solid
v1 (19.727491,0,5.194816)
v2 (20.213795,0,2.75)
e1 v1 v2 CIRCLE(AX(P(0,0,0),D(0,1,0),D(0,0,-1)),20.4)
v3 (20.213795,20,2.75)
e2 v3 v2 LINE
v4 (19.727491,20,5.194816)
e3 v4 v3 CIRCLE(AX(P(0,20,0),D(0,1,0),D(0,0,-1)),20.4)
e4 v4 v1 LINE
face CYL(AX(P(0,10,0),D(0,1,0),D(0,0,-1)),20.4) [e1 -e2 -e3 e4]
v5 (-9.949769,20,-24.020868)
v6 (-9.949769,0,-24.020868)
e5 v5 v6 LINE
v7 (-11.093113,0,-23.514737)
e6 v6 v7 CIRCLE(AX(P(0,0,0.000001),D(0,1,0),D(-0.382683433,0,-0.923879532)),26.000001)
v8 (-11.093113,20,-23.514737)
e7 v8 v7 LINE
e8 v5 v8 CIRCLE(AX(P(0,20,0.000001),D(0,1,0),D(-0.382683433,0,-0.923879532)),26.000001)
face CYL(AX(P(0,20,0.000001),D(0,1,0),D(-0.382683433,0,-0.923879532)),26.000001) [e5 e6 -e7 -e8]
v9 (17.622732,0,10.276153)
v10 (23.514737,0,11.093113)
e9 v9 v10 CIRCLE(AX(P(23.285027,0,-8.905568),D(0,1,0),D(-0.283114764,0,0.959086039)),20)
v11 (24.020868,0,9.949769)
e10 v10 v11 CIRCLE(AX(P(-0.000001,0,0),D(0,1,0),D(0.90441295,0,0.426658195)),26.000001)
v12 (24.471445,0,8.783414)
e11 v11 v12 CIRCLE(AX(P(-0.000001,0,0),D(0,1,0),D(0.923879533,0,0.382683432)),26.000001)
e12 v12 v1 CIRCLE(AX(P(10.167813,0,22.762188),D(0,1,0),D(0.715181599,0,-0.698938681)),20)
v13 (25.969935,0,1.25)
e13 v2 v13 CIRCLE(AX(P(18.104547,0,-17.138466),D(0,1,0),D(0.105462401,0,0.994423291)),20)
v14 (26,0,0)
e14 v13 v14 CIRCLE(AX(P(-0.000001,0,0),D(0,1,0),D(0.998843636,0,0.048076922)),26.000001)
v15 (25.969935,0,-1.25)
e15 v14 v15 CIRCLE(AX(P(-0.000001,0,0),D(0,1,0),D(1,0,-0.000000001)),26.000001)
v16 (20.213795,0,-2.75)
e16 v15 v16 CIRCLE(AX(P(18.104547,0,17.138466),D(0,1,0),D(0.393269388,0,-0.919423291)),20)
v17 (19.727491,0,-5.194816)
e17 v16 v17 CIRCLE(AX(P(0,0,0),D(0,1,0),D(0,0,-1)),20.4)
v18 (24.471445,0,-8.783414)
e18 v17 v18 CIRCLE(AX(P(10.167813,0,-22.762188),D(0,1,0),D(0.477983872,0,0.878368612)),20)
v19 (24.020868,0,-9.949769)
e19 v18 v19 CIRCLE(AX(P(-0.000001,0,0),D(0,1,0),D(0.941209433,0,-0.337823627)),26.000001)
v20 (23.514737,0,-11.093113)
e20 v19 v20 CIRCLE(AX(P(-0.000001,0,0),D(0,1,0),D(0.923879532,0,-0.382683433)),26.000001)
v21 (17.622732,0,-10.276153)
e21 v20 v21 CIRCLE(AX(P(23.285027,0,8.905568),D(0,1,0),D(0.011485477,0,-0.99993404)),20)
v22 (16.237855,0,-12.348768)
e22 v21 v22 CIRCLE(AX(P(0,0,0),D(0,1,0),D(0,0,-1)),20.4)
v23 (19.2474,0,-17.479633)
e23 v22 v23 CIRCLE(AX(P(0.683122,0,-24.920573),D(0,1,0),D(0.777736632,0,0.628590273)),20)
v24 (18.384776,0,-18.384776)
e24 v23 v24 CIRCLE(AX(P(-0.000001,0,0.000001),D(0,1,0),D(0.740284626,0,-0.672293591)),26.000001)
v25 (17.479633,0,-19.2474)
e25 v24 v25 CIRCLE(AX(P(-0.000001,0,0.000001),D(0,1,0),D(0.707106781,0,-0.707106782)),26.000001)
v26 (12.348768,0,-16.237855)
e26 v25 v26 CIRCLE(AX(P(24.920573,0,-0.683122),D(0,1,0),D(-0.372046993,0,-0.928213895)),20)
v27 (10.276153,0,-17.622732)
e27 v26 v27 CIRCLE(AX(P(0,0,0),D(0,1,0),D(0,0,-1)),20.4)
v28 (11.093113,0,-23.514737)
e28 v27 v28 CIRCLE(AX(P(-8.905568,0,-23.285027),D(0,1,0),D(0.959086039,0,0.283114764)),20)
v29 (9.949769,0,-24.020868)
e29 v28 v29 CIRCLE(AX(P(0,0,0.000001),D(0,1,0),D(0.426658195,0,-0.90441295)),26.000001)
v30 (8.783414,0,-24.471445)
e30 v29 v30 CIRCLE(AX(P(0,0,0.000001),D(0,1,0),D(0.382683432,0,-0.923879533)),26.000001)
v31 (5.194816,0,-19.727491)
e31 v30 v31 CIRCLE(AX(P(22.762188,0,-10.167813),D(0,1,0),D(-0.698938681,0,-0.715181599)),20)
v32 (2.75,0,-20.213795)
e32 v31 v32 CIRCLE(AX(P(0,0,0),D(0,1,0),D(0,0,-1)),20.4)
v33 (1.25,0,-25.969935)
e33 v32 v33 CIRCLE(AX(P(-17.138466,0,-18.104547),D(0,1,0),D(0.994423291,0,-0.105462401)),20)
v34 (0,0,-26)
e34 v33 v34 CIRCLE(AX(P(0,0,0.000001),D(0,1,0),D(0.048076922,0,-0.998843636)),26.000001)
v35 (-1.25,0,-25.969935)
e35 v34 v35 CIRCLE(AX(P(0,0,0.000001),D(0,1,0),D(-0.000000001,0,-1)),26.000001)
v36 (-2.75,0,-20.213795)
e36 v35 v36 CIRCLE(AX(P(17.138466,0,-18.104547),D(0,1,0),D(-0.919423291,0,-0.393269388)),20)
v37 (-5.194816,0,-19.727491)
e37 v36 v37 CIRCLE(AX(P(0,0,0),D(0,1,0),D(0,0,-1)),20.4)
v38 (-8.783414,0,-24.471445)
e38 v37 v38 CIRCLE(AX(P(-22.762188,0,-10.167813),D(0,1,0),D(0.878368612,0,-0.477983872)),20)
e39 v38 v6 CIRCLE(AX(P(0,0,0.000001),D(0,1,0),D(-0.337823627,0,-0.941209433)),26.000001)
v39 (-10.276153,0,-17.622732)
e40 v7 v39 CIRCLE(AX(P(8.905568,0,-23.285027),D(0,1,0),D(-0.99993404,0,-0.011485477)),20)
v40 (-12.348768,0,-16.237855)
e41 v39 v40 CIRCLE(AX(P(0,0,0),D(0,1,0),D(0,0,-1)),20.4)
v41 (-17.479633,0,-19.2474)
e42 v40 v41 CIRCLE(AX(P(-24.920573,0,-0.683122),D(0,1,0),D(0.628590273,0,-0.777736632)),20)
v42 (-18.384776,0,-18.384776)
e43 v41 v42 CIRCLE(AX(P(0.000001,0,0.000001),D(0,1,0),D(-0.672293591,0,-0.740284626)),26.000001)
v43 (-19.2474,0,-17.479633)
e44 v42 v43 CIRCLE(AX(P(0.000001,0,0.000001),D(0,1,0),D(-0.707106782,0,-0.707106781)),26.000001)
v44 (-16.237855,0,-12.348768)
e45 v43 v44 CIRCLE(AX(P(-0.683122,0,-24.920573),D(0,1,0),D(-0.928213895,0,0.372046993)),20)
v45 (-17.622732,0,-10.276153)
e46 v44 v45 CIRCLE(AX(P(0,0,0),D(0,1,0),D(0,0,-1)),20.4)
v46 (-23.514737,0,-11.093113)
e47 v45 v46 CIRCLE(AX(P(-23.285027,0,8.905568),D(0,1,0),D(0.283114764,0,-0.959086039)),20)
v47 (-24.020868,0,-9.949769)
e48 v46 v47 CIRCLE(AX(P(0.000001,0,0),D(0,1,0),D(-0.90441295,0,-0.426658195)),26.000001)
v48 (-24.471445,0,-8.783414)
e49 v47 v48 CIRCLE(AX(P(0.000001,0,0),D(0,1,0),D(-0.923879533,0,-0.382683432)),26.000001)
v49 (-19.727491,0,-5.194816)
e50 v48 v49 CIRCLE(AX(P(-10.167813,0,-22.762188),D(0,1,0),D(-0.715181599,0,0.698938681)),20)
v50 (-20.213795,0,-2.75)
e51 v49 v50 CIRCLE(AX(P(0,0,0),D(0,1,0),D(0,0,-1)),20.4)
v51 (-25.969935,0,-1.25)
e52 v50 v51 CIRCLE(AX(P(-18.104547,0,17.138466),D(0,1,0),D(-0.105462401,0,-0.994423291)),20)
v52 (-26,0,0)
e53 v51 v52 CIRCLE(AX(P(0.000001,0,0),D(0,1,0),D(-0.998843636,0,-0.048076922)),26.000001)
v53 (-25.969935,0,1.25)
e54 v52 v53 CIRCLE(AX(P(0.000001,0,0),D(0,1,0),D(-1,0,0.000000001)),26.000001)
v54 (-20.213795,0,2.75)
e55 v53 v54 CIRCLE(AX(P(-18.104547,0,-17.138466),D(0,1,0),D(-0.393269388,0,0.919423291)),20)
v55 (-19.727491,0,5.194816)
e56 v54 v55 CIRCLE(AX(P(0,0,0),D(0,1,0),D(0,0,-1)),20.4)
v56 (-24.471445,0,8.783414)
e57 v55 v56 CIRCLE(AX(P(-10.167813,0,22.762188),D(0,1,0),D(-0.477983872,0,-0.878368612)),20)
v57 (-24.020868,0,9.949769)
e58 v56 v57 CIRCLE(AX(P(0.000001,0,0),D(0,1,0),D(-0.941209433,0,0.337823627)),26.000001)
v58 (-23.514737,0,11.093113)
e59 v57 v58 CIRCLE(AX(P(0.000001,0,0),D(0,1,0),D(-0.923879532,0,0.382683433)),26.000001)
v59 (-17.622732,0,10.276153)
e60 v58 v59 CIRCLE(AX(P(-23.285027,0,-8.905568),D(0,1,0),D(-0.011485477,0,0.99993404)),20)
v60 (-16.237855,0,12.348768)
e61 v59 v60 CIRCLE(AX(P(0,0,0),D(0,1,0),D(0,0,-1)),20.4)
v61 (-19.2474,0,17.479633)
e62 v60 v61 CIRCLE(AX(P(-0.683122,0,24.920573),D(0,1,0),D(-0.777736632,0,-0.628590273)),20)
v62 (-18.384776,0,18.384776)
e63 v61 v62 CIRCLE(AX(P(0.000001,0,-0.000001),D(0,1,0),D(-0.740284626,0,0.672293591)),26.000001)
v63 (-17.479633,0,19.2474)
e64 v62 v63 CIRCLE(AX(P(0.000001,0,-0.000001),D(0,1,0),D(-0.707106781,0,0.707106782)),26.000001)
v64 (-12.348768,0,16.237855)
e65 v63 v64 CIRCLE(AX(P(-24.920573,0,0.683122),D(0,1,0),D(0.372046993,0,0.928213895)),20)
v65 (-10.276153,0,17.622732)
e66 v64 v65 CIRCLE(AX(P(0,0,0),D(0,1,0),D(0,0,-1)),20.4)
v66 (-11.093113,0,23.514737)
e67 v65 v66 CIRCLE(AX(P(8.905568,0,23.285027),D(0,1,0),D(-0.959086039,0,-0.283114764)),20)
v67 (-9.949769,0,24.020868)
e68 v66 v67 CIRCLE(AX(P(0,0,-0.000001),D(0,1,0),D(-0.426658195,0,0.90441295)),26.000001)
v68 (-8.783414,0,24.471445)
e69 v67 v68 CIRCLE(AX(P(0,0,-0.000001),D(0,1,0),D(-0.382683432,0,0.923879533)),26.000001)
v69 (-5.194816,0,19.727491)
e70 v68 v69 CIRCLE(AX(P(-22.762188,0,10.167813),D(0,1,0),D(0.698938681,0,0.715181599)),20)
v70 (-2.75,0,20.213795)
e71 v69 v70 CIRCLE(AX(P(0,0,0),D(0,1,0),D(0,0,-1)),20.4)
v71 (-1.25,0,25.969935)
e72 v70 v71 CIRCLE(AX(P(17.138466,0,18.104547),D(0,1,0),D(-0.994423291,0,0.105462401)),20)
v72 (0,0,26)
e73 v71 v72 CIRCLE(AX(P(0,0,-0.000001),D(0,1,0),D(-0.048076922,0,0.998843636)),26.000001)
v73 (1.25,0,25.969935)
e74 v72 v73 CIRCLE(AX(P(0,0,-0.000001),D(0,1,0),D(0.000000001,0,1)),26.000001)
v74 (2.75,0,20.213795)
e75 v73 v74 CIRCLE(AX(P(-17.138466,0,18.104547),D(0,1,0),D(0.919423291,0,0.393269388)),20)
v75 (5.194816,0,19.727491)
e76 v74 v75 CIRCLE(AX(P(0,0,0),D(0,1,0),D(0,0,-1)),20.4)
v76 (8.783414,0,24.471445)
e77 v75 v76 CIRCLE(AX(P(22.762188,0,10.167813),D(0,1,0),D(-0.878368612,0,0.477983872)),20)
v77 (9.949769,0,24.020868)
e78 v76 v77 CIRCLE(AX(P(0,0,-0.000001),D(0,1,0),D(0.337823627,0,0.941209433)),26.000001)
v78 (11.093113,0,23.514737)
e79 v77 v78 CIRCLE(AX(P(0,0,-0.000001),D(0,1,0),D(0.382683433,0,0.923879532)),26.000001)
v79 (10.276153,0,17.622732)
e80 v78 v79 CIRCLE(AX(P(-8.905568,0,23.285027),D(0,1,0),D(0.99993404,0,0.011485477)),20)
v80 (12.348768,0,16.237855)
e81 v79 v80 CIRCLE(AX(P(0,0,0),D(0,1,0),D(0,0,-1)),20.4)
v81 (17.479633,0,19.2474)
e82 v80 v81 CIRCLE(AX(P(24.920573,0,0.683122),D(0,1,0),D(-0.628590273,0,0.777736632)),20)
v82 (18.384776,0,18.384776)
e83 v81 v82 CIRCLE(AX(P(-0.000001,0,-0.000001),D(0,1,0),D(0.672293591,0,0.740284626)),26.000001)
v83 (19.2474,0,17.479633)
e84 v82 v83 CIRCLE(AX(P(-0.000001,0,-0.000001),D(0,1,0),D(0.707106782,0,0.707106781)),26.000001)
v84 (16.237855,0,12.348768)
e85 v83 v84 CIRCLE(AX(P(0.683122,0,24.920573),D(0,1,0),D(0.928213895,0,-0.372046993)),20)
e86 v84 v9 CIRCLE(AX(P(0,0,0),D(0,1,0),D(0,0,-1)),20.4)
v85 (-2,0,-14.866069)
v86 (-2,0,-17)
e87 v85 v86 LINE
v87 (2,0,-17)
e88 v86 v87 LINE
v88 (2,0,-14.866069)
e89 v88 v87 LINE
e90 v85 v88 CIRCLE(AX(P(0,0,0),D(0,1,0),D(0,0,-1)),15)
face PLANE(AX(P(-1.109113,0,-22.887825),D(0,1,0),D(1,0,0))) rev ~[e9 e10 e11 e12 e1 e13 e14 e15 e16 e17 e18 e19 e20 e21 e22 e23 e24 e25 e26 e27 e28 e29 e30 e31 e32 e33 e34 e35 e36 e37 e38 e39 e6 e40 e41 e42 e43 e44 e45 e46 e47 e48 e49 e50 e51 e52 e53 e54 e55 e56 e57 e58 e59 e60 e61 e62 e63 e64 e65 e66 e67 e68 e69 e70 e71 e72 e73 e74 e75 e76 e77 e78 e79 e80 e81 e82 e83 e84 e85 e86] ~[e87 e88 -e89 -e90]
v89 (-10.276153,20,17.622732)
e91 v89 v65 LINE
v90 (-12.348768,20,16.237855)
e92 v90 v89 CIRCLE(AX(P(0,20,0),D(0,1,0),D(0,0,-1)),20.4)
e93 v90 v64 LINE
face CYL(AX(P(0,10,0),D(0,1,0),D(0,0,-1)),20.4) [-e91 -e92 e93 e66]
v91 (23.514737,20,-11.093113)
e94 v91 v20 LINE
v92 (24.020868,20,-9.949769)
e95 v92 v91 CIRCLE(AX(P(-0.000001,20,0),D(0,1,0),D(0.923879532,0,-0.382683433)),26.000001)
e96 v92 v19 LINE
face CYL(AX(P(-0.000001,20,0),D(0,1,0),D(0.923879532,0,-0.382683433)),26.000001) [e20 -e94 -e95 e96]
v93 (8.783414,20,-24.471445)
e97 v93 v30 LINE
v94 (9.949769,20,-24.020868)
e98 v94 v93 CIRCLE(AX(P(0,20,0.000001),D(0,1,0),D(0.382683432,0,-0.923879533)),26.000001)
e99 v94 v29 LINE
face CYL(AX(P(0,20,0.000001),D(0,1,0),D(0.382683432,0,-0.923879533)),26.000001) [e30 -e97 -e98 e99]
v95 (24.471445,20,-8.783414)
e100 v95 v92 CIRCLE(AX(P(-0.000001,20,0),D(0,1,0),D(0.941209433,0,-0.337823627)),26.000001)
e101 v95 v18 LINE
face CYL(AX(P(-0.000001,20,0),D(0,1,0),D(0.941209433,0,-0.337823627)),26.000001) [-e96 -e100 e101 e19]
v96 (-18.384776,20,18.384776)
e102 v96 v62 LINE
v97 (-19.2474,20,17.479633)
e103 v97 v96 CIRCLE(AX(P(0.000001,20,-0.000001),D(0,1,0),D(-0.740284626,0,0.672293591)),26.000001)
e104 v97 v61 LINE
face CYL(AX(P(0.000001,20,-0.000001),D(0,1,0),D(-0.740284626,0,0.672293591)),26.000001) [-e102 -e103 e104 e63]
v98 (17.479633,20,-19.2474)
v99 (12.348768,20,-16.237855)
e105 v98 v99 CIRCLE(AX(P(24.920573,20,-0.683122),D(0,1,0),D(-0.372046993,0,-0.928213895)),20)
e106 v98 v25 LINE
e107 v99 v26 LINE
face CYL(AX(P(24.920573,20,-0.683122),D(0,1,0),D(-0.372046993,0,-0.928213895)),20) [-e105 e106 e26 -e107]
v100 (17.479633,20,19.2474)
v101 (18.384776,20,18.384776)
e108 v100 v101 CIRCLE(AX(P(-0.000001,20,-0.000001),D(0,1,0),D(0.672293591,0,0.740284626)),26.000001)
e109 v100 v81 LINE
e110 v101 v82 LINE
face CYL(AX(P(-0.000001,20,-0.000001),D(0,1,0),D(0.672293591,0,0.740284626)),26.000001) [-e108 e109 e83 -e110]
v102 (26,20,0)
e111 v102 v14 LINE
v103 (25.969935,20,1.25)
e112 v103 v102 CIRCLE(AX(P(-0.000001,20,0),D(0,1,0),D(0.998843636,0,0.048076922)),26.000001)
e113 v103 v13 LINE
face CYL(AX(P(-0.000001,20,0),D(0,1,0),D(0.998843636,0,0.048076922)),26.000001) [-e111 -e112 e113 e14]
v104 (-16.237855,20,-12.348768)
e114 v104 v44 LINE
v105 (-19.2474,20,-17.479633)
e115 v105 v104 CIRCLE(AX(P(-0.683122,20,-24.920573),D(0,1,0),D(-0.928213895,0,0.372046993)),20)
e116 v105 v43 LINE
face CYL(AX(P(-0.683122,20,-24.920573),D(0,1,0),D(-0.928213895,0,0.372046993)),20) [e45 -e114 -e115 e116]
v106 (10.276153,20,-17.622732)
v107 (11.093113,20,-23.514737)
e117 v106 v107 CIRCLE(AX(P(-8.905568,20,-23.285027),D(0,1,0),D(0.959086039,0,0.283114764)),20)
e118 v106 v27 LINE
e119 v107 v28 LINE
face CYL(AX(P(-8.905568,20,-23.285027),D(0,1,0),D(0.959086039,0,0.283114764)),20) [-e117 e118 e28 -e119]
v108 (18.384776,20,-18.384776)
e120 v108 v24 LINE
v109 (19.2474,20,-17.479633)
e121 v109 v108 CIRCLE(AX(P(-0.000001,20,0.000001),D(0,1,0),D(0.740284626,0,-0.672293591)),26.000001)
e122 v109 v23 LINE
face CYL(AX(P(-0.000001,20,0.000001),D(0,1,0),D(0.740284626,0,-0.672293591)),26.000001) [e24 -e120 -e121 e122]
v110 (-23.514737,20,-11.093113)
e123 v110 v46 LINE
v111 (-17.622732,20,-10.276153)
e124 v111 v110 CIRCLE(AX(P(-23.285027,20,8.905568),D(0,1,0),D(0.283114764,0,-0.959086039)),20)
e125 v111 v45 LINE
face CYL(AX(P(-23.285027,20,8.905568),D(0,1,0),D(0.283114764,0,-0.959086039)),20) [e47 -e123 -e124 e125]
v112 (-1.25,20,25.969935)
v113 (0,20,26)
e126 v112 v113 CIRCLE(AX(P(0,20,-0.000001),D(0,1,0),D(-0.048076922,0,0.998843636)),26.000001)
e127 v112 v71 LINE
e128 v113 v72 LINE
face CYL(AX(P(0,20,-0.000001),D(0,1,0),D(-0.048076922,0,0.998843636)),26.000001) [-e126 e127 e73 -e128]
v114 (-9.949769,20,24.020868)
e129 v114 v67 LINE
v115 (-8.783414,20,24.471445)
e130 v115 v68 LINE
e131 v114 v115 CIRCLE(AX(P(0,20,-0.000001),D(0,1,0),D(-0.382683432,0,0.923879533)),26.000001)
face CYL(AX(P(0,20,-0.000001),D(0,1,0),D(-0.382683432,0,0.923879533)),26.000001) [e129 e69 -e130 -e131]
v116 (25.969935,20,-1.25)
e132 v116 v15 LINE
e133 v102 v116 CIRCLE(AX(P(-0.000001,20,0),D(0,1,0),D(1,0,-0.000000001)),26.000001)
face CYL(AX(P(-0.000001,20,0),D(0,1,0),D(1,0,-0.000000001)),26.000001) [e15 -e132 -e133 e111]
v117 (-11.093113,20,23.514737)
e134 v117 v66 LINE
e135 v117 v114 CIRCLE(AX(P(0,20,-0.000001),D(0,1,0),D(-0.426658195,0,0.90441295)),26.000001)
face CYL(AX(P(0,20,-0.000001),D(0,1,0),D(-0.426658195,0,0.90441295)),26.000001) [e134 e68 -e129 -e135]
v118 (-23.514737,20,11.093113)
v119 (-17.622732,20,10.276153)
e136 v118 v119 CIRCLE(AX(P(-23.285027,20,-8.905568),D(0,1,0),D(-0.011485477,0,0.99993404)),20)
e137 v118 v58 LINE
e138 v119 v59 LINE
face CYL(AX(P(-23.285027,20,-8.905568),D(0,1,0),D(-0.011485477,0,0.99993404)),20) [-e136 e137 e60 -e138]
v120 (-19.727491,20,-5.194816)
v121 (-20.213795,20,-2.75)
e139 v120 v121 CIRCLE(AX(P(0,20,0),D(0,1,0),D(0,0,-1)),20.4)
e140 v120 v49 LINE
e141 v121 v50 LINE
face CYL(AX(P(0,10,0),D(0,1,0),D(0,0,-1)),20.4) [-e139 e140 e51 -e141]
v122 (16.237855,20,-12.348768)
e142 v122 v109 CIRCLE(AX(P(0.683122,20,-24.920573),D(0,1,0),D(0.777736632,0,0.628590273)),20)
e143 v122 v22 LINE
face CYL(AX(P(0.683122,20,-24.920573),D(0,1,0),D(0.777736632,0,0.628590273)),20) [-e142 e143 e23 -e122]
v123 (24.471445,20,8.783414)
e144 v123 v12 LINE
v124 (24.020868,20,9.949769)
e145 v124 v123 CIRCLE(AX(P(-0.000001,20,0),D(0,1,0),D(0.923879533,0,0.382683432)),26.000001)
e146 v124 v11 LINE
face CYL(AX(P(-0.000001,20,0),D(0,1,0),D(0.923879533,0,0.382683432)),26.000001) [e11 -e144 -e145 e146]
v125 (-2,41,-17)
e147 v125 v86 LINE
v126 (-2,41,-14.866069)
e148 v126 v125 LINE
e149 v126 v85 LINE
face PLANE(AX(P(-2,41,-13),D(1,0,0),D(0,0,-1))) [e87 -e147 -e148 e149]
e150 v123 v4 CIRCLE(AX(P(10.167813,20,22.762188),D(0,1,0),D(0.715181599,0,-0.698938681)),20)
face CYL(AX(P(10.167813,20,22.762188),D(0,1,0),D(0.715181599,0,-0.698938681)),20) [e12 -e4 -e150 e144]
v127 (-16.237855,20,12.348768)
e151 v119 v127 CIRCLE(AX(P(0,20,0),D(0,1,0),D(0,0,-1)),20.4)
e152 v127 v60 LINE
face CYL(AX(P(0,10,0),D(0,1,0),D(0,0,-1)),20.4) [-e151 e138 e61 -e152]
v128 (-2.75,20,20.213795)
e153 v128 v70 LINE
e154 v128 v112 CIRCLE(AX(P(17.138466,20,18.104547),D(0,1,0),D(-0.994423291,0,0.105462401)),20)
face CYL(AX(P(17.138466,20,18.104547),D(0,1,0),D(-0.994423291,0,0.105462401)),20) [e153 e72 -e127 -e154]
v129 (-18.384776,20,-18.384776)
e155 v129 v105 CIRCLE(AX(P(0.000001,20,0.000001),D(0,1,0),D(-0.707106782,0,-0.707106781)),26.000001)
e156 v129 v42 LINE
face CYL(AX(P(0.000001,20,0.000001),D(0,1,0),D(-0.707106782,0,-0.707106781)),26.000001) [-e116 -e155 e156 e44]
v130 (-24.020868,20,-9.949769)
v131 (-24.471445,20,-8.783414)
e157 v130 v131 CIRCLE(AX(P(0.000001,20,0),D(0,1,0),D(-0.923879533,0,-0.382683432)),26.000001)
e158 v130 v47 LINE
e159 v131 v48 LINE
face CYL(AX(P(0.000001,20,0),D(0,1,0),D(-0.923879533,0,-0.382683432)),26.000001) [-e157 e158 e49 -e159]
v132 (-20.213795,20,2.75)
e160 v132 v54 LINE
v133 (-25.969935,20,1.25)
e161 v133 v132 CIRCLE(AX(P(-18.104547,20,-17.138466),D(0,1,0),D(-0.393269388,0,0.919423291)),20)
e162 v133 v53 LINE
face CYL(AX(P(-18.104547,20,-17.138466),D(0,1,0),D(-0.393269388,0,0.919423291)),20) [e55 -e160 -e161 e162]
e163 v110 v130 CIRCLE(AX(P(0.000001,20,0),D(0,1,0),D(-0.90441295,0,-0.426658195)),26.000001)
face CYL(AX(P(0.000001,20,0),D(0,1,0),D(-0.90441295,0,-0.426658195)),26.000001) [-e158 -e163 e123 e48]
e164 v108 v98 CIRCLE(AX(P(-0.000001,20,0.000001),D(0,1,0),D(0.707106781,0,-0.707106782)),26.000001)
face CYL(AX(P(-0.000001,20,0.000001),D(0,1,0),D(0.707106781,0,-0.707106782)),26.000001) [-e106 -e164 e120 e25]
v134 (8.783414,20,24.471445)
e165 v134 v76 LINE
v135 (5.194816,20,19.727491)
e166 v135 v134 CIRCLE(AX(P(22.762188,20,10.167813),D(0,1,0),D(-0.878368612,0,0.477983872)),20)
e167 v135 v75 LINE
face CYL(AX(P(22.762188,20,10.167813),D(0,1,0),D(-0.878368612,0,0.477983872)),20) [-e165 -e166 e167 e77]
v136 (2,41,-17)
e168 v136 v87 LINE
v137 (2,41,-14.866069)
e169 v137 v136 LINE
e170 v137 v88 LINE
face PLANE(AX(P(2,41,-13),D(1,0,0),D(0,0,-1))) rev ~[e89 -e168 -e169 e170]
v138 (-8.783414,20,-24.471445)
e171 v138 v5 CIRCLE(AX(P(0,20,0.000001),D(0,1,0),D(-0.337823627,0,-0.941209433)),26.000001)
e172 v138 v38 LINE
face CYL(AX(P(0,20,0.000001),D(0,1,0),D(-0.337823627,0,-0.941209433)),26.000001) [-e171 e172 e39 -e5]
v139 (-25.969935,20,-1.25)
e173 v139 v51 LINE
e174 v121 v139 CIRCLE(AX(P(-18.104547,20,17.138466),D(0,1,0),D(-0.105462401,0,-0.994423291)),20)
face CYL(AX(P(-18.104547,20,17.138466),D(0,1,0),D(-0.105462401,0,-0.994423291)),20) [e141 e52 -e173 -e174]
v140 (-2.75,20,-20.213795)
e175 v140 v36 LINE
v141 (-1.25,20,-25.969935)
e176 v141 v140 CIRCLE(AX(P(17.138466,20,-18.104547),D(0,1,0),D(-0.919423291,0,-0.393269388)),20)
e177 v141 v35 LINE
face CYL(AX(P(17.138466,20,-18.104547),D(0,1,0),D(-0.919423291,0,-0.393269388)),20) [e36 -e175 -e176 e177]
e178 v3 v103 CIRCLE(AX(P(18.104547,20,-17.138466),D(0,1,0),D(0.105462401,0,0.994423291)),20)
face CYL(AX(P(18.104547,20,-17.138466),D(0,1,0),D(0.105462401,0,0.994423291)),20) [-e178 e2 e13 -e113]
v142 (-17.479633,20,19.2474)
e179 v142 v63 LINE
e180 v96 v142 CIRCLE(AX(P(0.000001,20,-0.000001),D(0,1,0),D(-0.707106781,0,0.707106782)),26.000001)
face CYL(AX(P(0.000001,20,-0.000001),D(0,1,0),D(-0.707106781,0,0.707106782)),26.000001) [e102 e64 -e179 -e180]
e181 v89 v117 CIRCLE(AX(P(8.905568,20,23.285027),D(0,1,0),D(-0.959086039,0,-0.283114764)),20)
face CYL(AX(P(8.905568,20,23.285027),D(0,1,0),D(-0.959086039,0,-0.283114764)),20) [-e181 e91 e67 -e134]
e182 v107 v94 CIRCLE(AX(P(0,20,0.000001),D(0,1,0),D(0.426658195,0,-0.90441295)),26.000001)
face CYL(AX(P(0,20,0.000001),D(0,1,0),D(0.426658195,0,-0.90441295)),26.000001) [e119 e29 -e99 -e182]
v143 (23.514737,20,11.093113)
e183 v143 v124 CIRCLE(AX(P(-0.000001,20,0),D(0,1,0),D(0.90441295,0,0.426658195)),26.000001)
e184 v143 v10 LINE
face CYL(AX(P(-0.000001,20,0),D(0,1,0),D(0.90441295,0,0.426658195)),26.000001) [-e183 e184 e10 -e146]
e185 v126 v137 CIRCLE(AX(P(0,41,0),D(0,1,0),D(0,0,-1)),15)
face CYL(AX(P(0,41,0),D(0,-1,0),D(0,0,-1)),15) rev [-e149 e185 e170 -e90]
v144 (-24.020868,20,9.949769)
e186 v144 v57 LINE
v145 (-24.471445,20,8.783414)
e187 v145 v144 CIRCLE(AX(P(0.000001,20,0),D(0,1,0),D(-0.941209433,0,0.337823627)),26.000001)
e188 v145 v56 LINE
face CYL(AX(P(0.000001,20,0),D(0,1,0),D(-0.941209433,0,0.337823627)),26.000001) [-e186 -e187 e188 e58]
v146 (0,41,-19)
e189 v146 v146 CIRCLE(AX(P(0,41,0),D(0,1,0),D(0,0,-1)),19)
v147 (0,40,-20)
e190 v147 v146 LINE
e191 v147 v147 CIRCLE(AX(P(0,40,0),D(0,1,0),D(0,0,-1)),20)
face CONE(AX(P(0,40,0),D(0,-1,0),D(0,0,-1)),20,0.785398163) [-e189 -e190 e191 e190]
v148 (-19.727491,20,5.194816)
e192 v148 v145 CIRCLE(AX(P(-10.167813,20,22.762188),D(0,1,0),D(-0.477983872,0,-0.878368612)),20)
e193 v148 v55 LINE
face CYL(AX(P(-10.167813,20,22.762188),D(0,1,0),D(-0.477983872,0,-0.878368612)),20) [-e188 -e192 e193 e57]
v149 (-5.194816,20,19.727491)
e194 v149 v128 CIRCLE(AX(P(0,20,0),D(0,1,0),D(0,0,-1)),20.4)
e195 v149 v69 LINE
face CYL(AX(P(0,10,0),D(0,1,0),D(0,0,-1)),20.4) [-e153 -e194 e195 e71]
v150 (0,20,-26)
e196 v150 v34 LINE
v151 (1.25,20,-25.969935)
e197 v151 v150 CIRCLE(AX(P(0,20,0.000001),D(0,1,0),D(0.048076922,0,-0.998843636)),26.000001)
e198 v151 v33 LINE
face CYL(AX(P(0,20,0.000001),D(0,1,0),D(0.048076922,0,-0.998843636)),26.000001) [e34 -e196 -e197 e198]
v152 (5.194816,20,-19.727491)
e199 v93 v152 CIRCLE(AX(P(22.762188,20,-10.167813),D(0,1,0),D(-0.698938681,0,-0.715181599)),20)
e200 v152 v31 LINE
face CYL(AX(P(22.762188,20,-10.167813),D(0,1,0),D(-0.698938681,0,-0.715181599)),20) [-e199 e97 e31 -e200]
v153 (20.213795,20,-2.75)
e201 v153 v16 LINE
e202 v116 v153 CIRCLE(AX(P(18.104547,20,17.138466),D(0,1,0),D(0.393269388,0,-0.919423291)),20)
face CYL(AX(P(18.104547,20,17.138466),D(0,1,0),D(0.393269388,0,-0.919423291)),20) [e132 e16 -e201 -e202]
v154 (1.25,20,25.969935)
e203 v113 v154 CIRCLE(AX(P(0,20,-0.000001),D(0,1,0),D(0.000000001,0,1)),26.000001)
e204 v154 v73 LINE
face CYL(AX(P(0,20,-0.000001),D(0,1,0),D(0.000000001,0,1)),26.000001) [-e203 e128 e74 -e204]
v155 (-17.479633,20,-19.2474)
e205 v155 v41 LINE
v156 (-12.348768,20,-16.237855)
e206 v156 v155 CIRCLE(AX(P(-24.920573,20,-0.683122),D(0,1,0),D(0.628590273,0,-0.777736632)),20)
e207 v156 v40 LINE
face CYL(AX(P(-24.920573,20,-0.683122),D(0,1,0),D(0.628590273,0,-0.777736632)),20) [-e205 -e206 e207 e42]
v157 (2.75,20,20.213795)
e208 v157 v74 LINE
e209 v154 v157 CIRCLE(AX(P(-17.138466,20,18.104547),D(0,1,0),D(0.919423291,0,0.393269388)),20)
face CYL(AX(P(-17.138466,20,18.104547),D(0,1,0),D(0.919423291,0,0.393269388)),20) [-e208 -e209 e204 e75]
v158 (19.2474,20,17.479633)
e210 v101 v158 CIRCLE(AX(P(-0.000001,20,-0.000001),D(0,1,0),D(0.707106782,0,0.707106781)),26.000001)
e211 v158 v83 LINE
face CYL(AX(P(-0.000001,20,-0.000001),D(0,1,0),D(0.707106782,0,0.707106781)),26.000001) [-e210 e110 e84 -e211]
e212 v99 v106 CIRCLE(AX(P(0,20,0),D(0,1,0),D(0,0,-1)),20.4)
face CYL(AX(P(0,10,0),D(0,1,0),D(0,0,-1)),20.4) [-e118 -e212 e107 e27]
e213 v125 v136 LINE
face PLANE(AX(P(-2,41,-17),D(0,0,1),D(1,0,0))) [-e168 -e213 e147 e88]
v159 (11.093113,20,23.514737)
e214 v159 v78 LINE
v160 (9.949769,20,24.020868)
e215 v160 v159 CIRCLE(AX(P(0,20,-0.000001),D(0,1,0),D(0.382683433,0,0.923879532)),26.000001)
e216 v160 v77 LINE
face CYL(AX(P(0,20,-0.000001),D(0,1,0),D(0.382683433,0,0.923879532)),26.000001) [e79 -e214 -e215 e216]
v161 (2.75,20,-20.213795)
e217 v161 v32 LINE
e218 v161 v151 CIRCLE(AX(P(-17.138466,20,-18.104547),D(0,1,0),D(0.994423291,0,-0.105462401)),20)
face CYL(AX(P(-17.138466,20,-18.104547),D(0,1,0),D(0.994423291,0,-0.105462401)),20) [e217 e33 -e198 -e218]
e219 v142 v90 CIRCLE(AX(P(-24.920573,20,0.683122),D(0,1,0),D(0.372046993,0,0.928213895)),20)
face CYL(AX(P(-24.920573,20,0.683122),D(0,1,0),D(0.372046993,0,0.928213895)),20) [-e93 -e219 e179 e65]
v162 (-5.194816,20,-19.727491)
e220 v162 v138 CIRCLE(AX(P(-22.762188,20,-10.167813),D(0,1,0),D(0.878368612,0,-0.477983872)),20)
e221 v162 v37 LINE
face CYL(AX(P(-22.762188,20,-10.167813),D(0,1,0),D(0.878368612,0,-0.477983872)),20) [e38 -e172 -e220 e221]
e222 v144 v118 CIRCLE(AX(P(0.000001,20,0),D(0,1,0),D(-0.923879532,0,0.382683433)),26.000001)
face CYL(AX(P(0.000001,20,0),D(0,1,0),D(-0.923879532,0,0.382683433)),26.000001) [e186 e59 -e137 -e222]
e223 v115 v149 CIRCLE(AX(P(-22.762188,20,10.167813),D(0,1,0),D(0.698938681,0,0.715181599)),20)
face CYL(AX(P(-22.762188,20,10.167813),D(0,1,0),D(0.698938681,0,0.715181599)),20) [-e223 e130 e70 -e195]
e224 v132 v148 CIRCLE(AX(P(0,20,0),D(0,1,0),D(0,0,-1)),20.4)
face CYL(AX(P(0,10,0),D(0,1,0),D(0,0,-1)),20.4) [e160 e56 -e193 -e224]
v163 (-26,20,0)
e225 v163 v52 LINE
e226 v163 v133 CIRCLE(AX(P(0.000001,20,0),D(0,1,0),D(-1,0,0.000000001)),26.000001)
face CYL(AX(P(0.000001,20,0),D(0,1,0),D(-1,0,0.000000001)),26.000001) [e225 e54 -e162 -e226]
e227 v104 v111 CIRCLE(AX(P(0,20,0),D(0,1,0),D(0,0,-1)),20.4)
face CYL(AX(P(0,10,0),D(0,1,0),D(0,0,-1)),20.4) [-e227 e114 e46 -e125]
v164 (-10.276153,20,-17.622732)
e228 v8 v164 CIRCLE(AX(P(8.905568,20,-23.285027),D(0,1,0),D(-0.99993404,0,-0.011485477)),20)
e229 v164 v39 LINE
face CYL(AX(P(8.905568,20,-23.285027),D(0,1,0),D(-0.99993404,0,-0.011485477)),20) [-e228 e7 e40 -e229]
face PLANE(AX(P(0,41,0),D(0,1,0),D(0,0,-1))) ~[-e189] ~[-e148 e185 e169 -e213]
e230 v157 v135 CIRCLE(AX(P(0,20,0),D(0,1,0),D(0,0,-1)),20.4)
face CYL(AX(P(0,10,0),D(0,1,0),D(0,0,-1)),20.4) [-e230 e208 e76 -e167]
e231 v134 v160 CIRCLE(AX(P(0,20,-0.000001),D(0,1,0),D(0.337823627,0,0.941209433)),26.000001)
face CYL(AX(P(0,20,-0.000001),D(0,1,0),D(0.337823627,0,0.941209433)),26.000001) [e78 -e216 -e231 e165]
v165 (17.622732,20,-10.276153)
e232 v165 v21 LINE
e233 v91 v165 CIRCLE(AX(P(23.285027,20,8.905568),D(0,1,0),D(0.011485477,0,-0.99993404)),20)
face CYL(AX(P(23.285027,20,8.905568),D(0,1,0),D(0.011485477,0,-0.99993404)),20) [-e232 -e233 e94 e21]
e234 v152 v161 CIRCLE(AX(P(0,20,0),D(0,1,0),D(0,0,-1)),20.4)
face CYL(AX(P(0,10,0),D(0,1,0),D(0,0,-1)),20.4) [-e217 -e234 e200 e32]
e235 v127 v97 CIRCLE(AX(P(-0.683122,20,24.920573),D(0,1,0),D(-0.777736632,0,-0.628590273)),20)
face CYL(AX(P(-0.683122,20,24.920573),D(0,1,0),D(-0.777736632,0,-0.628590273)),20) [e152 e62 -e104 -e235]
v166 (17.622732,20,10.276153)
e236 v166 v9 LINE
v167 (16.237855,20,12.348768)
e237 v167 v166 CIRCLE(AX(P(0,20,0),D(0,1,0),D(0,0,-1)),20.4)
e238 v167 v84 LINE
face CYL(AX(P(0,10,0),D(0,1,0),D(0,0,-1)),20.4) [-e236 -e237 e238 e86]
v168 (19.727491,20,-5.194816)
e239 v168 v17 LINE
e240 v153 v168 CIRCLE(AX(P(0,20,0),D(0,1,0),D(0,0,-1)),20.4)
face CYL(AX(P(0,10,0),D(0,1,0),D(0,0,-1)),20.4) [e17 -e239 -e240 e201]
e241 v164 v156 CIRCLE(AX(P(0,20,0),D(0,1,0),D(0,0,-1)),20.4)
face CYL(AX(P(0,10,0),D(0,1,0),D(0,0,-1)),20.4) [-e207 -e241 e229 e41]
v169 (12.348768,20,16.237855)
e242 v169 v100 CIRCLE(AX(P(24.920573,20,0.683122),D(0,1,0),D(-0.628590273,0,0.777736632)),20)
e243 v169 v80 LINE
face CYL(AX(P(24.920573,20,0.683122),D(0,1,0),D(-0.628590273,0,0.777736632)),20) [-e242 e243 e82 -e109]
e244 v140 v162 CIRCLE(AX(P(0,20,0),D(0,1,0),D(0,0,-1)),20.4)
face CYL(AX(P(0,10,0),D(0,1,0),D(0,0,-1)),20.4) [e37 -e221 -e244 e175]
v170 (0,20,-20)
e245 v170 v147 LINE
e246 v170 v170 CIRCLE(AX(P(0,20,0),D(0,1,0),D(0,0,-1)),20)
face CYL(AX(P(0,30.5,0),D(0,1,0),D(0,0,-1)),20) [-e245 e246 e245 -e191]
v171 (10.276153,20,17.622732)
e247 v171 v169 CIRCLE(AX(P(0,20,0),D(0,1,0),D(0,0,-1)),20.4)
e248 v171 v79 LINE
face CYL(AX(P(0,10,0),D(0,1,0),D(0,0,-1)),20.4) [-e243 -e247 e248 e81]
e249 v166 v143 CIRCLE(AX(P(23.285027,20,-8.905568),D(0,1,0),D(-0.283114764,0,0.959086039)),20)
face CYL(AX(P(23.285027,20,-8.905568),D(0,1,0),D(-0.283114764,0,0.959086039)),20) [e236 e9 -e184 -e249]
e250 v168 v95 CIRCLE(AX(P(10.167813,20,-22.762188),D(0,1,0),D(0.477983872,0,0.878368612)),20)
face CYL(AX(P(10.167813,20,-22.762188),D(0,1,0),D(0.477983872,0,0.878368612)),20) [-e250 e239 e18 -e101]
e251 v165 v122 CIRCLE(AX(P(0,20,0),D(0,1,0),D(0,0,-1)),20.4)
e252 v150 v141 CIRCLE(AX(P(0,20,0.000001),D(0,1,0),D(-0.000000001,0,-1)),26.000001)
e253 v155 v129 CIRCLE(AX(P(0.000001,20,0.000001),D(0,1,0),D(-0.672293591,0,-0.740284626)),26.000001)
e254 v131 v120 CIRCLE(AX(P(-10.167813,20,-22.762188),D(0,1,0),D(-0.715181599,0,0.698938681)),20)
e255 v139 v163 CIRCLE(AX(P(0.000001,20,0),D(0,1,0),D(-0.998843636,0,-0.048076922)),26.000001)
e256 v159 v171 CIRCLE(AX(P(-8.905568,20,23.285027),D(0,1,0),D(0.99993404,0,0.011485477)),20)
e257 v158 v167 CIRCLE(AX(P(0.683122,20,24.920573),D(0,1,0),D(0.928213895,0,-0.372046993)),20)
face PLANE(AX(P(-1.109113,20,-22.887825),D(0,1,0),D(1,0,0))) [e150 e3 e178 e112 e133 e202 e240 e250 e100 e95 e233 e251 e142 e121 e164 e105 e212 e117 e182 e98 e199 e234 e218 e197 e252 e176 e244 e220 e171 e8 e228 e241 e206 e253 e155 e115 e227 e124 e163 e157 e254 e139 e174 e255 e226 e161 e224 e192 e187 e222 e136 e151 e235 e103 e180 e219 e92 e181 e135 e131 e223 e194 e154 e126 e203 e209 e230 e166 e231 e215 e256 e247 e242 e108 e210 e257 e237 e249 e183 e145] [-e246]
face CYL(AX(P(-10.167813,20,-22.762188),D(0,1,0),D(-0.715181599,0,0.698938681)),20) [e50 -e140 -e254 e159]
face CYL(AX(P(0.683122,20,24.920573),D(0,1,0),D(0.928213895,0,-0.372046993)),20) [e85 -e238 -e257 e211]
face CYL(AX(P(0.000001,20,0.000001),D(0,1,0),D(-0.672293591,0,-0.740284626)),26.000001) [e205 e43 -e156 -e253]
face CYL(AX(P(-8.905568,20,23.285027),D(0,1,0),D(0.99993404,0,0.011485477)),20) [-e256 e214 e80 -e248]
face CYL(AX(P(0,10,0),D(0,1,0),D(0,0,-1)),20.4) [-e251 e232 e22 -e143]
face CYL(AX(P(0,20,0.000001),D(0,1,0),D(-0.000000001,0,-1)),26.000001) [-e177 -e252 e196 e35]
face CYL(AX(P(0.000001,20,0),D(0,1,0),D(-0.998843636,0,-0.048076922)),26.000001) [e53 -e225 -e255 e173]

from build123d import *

# Parameters (mm, degrees)
SKETCH2_W           = 5
SKETCH2_H           = 21
SKETCH2_W_2         = 5.4
SKETCH2_H_2         = 20
BOSS_EXTRUDE1_DEPTH = 20
CIRPATTERN1_COUNT   = 16
SKETCH6_W           = 4
SKETCH6_H           = 4
CUT_EXTRUDE1_DEPTH  = 56.072679252
CHAMFER1_SIZE       = 1


with BuildPart() as part:
    # Sketch2 → Revolve1 (revolve)
    with BuildSketch(Plane.XY, mode=Mode.PRIVATE) as revolve1_sk:
        with Locations((17.5, 30.5)):
            Rectangle(SKETCH2_W, SKETCH2_H)
        with Locations((17.7, 10)):
            Rectangle(SKETCH2_W_2, SKETCH2_H_2)
    revolve(revolve1_sk.sketch.rotate(Axis((0, 0, 0), (0, 1, 0)), 90), axis=Axis((0, 0, 0), (0, 1, 0)))

    # Sketch4 → Boss-Extrude1 (add)
    with BuildSketch(Plane(origin=(0, 20, 0), x_dir=(1, 0, 0), z_dir=(0, 1, 0))):
        with BuildLine():
            ThreePointArc((-2.75, 20.213794795), (-1.37814843, 20.353395464), (0, 20.4))
            Line((0, 20.4), (0, 26))
            ThreePointArc((0, 26), (-0.62518076, 25.992482548), (-1.25, 25.96993454))
            ThreePointArc((-1.25, 25.96993454), (-2.215194302, 23.147942432), (-2.75, 20.213794795))
        make_face()
        with BuildLine():
            Line((0, 26), (0, 20.4))
            ThreePointArc((0, 20.4), (1.37814843, 20.353395464), (2.75, 20.213794795))
            ThreePointArc((2.75, 20.213794795), (2.215194302, 23.147942432), (1.25, 25.96993454))
            ThreePointArc((1.25, 25.96993454), (0.62518076, 25.992482548), (0, 26))
        make_face()
    boss_extrude1 = extrude(amount=-BOSS_EXTRUDE1_DEPTH)

    # CirPattern1: Boss-Extrude1 ×16 about axis
    cirpattern1_axis = Axis((0, 0, 0), (0, 1, 0))
    for i in range(1, CIRPATTERN1_COUNT):
        add(boss_extrude1.rotate(cirpattern1_axis, i * 360 / CIRPATTERN1_COUNT))

    # Sketch6 → Cut-Extrude1 (cut, through all)
    with BuildSketch(Plane(origin=(0, 41, 0), x_dir=(1, 0, 0), z_dir=(0, 1, 0))):
        with Locations((0, 15)):
            Rectangle(SKETCH6_W, SKETCH6_H)
    extrude(amount=-CUT_EXTRUDE1_DEPTH, mode=Mode.SUBTRACT)

    # Chamfer1
    chamfer1_edges = [part.edges().sort_by_distance(p)[0] for p in [
        (0, 41, 20),
    ]]
    chamfer(chamfer1_edges, length=CHAMFER1_SIZE)


solid = part.part
